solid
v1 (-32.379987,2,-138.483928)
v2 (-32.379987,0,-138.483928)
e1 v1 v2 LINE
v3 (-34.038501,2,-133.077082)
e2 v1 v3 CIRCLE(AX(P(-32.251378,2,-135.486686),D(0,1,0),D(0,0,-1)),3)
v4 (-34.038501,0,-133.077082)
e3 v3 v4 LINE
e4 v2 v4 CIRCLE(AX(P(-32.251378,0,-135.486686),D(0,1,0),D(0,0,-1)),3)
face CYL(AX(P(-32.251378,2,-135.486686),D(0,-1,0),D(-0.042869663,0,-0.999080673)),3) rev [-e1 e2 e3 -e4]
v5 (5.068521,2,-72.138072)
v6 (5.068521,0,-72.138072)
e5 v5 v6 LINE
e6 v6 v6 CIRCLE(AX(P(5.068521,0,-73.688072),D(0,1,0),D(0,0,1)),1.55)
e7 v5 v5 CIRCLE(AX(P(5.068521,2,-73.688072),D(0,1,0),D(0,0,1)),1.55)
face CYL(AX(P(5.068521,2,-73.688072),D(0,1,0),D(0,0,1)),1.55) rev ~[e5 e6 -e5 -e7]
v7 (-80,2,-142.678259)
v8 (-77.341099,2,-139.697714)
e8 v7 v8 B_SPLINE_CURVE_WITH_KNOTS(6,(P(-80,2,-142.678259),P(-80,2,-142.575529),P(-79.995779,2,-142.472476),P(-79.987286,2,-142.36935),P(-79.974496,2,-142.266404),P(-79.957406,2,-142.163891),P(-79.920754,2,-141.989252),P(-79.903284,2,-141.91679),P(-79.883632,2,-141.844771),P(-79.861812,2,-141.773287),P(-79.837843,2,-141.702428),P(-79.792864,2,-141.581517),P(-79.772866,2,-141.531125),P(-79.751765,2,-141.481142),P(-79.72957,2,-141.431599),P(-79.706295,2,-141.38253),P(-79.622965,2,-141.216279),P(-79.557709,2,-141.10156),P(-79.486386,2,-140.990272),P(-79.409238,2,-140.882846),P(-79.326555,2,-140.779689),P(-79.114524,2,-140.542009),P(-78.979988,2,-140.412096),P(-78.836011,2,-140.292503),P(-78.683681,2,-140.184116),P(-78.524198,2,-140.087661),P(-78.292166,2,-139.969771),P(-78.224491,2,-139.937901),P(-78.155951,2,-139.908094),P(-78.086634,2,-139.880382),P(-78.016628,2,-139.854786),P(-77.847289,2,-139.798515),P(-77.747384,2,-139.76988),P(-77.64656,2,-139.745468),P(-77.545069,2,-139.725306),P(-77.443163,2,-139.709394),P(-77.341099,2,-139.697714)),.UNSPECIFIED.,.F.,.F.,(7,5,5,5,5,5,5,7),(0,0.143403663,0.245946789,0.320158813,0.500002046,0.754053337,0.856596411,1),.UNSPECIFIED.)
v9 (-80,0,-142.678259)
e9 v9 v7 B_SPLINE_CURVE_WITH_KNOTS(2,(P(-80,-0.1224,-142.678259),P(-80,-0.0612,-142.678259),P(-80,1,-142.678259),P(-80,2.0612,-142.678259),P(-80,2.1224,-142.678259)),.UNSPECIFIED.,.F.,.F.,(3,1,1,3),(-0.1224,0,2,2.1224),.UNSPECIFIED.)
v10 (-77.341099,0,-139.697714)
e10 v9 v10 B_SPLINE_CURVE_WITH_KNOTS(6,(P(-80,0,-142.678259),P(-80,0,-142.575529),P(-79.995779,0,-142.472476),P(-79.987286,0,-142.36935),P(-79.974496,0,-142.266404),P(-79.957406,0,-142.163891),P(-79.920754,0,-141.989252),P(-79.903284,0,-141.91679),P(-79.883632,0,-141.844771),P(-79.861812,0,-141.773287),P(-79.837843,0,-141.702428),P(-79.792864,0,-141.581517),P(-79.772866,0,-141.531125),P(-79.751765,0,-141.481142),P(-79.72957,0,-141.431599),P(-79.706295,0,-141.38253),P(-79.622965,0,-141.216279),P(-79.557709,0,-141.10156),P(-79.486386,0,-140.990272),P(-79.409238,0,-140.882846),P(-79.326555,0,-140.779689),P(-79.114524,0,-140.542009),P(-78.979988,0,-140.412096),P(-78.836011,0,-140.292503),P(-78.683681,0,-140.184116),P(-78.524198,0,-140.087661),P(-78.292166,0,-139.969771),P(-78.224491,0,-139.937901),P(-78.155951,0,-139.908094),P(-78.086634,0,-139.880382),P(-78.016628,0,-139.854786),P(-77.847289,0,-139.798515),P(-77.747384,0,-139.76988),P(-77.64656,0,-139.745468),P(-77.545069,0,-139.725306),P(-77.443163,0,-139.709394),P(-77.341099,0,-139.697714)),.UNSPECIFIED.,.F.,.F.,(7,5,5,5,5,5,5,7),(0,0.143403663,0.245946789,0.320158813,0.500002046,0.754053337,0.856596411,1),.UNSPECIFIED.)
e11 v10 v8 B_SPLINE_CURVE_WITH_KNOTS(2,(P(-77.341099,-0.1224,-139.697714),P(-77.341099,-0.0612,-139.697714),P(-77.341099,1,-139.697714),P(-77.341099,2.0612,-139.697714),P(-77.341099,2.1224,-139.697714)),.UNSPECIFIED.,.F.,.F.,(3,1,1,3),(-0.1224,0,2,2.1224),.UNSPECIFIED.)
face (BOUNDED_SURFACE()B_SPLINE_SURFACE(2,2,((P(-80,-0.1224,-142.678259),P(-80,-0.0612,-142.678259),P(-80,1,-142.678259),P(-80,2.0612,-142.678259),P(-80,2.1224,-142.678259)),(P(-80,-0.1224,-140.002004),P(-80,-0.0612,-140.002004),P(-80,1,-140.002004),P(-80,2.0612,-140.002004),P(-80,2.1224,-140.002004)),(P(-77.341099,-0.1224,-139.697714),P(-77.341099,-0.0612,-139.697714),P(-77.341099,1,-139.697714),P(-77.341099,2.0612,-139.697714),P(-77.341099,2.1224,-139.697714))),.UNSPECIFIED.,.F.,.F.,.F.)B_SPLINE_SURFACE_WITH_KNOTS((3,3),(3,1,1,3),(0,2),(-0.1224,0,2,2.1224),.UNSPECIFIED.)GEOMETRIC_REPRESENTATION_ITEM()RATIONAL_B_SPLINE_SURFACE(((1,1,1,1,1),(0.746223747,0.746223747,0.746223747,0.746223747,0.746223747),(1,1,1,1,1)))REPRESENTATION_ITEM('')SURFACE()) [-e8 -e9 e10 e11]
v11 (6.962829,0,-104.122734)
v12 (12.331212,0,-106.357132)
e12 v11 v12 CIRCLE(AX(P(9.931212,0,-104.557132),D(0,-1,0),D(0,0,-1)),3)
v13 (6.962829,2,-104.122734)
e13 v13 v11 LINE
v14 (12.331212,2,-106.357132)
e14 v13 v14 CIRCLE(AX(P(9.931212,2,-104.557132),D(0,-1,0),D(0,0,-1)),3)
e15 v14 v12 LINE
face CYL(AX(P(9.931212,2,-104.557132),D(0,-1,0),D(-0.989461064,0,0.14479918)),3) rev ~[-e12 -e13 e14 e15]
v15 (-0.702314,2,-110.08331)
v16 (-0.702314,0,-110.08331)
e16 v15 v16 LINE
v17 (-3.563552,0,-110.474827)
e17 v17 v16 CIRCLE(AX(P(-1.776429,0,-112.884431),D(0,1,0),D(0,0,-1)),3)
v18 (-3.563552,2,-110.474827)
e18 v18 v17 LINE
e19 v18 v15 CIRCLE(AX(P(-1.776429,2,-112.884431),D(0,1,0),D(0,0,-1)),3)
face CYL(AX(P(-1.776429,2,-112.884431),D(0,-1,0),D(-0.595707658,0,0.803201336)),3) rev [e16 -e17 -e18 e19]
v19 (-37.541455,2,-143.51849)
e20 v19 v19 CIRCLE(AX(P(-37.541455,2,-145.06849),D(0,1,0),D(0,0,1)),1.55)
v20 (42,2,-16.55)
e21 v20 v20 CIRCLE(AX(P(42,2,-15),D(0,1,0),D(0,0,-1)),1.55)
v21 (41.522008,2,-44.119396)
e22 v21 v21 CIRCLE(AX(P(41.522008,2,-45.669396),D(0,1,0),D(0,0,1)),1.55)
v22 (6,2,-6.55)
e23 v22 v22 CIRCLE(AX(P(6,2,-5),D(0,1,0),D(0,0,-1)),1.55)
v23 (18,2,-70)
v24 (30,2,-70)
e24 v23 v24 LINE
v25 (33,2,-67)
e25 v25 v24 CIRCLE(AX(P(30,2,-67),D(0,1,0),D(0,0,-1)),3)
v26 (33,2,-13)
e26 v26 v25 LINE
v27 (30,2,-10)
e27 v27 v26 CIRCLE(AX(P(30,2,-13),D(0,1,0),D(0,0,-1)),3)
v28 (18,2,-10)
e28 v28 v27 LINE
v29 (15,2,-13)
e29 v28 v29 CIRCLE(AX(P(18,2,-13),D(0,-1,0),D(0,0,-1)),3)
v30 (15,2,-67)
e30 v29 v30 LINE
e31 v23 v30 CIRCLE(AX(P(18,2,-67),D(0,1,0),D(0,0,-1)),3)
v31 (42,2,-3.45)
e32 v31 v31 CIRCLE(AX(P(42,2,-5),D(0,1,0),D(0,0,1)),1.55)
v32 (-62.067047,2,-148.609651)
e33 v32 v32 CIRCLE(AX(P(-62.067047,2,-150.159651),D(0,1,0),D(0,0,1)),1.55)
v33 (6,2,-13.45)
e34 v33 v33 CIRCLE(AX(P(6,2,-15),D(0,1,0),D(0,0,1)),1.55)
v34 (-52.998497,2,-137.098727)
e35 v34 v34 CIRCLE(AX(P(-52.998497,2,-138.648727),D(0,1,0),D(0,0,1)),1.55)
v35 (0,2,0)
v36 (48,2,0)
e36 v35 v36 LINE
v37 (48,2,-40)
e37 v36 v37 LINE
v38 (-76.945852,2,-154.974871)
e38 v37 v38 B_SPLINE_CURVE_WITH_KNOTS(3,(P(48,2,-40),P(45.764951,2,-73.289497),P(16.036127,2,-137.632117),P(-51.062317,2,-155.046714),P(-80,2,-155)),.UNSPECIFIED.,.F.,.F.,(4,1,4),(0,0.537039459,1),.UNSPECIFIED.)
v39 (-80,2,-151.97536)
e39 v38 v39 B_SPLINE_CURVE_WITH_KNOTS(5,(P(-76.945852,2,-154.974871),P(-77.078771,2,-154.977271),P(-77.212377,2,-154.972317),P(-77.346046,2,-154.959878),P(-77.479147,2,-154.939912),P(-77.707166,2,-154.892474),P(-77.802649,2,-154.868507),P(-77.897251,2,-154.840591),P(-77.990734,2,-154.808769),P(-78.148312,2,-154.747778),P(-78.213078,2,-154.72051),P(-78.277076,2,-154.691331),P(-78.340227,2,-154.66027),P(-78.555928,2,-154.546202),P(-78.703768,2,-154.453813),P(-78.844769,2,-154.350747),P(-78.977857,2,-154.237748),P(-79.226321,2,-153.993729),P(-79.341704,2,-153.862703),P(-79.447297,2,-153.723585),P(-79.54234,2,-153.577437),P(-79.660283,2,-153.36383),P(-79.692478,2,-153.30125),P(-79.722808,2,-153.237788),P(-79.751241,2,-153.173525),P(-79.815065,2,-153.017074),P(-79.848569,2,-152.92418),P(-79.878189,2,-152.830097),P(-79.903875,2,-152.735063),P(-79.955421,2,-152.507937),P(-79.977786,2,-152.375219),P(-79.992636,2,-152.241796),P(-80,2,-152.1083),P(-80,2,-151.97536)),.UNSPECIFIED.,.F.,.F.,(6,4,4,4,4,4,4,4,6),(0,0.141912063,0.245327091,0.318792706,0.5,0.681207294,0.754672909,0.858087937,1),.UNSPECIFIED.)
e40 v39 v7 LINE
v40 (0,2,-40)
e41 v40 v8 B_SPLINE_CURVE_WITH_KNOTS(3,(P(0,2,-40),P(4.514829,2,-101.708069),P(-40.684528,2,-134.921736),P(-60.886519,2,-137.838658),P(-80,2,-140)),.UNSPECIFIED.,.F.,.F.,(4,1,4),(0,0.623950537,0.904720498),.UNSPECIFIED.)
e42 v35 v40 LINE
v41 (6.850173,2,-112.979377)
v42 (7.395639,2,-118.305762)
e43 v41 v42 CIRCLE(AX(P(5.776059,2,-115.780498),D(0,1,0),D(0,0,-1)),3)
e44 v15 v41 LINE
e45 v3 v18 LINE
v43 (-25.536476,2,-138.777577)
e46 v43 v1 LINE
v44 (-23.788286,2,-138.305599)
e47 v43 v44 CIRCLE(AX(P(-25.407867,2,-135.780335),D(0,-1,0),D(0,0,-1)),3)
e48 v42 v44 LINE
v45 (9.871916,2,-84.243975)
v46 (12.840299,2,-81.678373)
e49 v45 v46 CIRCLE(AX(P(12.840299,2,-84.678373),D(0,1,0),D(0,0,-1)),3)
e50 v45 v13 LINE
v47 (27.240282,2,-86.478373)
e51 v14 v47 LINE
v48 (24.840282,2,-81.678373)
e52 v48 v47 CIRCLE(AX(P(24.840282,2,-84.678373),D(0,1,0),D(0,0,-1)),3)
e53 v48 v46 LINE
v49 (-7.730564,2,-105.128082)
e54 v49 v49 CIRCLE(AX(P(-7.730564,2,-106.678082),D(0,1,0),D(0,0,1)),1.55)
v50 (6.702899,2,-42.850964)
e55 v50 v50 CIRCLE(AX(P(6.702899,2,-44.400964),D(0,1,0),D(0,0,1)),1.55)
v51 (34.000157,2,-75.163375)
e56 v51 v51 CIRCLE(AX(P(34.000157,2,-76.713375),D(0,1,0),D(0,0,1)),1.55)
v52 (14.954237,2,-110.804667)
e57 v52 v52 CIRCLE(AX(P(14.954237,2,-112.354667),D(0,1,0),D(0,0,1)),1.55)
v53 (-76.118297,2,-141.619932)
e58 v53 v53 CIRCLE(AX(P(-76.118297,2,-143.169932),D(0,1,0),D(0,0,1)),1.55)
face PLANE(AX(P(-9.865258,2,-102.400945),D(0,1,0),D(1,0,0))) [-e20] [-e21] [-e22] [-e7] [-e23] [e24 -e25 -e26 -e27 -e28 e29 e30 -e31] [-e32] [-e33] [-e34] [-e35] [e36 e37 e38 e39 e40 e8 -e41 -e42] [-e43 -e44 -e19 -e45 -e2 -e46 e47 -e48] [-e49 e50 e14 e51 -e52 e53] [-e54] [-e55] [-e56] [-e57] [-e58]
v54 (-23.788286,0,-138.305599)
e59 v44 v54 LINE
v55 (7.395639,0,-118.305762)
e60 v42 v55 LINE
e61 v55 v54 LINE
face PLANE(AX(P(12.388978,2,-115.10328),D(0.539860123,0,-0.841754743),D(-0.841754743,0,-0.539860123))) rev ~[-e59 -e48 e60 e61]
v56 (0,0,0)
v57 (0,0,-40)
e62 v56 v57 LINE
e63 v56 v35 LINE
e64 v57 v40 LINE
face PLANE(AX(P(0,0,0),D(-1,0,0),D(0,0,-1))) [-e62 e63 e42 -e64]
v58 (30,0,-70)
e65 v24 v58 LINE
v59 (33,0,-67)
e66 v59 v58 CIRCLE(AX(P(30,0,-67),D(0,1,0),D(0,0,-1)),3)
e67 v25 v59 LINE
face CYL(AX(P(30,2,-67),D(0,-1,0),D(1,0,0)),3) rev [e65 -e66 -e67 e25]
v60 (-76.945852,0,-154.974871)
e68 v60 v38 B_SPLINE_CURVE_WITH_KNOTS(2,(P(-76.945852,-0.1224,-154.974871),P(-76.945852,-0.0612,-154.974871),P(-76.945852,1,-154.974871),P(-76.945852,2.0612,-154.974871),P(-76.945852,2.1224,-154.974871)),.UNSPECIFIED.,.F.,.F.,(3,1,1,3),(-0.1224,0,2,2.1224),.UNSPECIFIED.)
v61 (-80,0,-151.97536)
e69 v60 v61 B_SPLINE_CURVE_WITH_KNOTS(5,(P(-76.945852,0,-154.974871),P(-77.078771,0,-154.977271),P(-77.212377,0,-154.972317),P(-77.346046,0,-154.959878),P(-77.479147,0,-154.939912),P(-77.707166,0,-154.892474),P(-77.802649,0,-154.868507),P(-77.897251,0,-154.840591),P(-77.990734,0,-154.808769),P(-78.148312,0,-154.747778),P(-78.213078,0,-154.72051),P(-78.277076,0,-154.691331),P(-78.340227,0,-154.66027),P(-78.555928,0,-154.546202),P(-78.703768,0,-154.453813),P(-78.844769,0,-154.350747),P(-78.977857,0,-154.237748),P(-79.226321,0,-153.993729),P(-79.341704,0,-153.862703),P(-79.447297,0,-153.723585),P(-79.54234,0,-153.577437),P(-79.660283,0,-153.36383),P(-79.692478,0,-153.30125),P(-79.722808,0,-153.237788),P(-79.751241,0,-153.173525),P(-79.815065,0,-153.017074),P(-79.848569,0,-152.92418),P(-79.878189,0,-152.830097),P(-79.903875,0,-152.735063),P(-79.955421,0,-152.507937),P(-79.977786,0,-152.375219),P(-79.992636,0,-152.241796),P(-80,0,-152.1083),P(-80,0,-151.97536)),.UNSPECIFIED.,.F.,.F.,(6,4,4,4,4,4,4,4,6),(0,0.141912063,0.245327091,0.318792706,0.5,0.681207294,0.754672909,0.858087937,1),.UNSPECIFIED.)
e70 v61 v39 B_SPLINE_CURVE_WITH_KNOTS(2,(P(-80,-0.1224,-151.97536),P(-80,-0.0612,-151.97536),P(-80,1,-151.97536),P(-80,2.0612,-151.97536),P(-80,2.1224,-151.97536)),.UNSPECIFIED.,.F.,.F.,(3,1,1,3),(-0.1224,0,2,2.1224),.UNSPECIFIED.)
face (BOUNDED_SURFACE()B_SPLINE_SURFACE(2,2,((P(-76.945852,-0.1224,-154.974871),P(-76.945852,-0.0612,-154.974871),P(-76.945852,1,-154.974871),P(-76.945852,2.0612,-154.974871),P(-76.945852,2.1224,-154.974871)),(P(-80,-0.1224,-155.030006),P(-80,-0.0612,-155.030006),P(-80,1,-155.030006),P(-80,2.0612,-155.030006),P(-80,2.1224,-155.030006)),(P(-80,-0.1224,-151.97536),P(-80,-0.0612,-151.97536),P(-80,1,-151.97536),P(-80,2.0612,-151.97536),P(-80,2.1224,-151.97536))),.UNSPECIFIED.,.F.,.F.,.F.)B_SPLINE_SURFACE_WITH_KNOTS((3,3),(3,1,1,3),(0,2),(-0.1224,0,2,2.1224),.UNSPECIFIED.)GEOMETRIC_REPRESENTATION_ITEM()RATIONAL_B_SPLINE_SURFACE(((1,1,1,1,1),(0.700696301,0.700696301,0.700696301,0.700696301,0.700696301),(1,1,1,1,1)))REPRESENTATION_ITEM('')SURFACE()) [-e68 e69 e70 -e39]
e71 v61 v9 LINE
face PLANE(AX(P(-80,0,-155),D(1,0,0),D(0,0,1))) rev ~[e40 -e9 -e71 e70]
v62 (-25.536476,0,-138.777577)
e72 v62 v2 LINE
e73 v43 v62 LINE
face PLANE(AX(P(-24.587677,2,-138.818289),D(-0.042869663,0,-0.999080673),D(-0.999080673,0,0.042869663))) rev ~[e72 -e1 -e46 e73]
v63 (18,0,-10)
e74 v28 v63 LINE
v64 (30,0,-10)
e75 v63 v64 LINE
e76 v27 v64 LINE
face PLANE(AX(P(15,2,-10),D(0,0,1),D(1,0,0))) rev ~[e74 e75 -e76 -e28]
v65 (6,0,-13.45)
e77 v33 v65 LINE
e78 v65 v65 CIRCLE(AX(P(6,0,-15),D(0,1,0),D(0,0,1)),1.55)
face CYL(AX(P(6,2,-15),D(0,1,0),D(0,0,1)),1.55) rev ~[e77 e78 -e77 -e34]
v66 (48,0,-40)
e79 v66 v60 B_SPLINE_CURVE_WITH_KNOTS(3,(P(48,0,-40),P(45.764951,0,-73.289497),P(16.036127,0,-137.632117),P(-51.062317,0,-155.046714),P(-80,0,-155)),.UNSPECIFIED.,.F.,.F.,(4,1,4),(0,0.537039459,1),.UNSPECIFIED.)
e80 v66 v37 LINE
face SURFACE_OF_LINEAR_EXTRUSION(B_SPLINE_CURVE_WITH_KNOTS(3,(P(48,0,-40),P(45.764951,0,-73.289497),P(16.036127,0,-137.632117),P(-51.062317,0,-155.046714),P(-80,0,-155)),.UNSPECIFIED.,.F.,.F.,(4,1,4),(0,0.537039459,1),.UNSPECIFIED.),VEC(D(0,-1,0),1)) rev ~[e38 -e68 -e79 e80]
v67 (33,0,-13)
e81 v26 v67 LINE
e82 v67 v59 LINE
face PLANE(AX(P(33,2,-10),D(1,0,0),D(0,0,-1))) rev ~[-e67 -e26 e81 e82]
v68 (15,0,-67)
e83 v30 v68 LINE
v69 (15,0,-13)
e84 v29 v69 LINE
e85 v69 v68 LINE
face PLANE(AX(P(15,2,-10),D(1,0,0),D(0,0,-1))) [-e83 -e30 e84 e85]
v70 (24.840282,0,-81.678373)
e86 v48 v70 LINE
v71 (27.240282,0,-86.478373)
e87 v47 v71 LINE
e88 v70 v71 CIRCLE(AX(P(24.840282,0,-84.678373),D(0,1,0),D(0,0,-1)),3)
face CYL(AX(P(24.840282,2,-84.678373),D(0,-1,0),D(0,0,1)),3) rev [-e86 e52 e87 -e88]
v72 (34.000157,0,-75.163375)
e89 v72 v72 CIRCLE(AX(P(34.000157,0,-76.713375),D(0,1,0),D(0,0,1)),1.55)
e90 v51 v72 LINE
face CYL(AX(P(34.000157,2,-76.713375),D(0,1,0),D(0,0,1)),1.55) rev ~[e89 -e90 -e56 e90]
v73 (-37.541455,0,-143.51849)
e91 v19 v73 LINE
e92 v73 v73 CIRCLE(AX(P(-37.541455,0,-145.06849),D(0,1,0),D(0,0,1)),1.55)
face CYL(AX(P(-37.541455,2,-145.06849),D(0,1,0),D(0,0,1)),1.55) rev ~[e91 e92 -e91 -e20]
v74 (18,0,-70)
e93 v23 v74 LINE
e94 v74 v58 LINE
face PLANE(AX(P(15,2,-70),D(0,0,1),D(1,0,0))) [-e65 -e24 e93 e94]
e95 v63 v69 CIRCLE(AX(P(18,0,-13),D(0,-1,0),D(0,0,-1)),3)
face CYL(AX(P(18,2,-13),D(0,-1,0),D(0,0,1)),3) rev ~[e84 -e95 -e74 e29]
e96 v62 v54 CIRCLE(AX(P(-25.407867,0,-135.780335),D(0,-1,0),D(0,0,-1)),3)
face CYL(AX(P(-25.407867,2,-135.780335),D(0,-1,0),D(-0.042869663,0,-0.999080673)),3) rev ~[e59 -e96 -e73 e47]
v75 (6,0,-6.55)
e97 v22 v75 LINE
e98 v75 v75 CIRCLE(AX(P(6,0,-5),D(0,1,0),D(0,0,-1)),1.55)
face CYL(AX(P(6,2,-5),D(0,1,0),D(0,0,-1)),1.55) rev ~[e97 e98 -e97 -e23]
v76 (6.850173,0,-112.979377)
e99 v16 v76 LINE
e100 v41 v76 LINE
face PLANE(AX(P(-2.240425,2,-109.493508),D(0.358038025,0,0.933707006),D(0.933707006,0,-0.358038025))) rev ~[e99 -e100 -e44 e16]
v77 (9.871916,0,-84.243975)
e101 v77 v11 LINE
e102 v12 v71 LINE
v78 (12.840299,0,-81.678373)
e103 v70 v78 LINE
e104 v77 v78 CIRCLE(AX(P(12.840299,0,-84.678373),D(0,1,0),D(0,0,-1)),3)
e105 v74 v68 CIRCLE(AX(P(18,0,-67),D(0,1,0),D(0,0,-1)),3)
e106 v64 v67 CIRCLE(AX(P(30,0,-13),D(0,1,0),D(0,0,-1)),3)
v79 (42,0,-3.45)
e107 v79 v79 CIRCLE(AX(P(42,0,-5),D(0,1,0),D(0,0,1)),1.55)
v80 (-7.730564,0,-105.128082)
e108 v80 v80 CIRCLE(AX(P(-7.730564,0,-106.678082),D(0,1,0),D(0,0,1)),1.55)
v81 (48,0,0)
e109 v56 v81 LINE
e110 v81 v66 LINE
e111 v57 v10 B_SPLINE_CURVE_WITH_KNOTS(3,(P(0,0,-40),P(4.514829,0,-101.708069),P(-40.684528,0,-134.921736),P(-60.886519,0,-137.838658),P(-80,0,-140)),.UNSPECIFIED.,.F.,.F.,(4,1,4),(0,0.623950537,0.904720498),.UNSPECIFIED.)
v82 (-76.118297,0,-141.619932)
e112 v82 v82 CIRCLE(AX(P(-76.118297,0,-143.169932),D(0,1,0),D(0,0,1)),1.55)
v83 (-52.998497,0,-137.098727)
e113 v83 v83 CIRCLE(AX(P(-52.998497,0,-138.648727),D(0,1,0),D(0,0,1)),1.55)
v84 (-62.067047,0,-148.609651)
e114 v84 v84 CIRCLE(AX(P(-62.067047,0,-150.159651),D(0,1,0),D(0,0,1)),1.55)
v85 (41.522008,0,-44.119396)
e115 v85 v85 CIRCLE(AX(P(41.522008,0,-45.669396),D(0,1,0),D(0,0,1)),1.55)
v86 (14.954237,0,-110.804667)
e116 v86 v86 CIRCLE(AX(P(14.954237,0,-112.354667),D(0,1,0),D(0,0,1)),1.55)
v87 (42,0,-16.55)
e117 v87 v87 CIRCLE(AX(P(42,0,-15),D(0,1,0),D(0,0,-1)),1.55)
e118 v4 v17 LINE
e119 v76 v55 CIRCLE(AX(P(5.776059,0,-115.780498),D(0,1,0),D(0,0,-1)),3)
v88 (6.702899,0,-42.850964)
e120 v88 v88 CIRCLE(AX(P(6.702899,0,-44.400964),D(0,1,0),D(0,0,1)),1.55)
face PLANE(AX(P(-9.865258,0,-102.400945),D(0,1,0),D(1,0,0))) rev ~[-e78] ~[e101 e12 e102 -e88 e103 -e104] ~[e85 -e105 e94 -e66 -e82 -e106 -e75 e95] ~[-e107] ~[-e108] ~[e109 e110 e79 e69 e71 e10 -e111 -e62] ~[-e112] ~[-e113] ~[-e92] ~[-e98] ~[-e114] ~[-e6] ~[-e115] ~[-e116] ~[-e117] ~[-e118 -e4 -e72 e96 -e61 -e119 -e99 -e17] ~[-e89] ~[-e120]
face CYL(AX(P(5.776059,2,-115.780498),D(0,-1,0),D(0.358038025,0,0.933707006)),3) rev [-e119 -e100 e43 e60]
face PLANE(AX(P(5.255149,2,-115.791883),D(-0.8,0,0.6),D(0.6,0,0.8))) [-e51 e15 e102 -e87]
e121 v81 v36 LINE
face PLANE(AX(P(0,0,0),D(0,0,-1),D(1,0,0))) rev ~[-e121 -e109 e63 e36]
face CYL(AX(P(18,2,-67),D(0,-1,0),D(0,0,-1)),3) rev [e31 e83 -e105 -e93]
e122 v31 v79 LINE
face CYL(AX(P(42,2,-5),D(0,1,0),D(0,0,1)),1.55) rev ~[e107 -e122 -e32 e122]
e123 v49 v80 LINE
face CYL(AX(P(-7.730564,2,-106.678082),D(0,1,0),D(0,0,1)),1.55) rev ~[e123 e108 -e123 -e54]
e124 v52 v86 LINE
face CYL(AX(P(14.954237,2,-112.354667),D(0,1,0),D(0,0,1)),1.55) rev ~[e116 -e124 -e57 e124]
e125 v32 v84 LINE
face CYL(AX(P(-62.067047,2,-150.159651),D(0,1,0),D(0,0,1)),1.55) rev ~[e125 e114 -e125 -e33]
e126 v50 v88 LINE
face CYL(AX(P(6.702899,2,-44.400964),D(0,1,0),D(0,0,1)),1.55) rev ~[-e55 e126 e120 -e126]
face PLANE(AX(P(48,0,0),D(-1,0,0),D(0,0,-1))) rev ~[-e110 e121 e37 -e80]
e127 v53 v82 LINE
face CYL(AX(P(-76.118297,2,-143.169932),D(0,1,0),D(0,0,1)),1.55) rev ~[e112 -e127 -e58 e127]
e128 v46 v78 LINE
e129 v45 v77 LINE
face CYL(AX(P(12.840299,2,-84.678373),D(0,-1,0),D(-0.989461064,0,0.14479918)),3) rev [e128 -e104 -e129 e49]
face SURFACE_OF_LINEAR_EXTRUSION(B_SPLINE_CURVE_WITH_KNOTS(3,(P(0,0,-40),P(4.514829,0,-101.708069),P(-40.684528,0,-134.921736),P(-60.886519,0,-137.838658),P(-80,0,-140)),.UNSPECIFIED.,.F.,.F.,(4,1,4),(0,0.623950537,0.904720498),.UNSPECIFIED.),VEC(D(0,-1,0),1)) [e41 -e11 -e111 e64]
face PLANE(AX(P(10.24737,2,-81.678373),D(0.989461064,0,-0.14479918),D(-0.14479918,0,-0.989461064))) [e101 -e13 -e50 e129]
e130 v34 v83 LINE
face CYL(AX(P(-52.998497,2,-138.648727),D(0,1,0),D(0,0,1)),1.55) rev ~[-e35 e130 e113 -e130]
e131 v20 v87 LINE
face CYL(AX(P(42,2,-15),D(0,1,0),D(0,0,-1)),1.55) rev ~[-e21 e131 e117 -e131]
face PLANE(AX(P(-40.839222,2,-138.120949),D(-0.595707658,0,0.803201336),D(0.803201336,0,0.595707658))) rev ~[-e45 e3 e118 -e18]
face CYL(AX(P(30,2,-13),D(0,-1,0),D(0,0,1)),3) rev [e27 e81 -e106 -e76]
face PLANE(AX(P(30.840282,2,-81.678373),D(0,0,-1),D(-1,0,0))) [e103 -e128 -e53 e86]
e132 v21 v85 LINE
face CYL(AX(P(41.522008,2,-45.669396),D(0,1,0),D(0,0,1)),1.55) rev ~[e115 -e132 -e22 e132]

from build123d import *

# Parameters (mm, degrees)
SKETCH_1_W          = 48
SKETCH_1_H          = 40
EXTRUDE_1_DEPTH     = 2
SKETCH_2_R          = 1.55
CUT_EXTRUDE_1_DEPTH = 175.439280555
SKETCH_3_W          = 18
SKETCH_3_H          = 60
CUT_EXTRUDE_2_DEPTH = 175.439280555
FILLET_1_R          = 3
CUT_EXTRUDE_3_DEPTH = 175.439280555
FILLET_2_R          = 3
CUT_EXTRUDE_4_DEPTH = 175.439280555
FILLET_3_R          = 3
SKETCH_6_R          = 1.55
CUT_EXTRUDE_5_DEPTH = 175.439280555
FILLET_4_R          = 3


with BuildPart() as part:
    # 草图1 → 凸台-拉伸1 (new body)
    with BuildSketch(Plane(origin=(0, 0, 0), x_dir=(1, 0, 0), z_dir=(0, 1, 0))):
        with BuildLine():
            Line((0, 40), (48, 40))
            add(Edge.make_bspline(
                [(48, 40), (45.764951139, 73.28949707), (16.036127279, 137.632117299), (-51.062317124, 155.04671395), (-80, 155)],
                knots=[0, 0, 0, 0, 0.537039459, 1, 1, 1, 1], degree=3))
            Line((-80, 155), (-80, 140))
            add(Edge.make_bspline(
                [(0, 40), (4.51482928, 101.708069088), (-40.684527931, 134.921736198), (-60.886519043, 137.838657836), (-80, 140)],
                knots=[0, 0, 0, 0, 0.623950537, 0.904720498, 0.904720498, 0.904720498, 0.904720498], degree=3))
        make_face()
        with Locations((24, 20)):
            Rectangle(SKETCH_1_W, SKETCH_1_H)
    extrude(amount=EXTRUDE_1_DEPTH)

    # 草图2 → 切除-拉伸1 (cut, through all)
    with BuildSketch(Plane(origin=(0, 2, 0), x_dir=(1, 0, 0), z_dir=(0, 1, 0))):
        with Locations(Location((6, 15, 0), (0, 0, 270))):
            Circle(SKETCH_2_R)
        with Locations(Location((42, 15, 0), (0, 0, 90))):
            Circle(SKETCH_2_R)
        with Locations(Location((42, 5, 0), (0, 0, 270))):
            Circle(SKETCH_2_R)
        with Locations(Location((6, 5, 0), (0, 0, 90))):
            Circle(SKETCH_2_R)
    extrude(amount=-CUT_EXTRUDE_1_DEPTH, mode=Mode.SUBTRACT)

    # 草图3 → 切除-拉伸2 (cut, through all)
    with BuildSketch(Plane(origin=(0, 2, 0), x_dir=(1, 0, 0), z_dir=(0, 1, 0))):
        with Locations((24, 40)):
            Rectangle(SKETCH_3_W, SKETCH_3_H)
    extrude(amount=-CUT_EXTRUDE_2_DEPTH, mode=Mode.SUBTRACT)

    # 圆角1
    fillet_1_edges = [part.edges().sort_by_distance(p)[0] for p in [
        (33, 1, -70),
        (33, 1, -10),
        (15, 1, -10),
        (15, 1, -70),
    ]]
    fillet(fillet_1_edges, radius=FILLET_1_R)

    # 草图4 → 切除-拉伸3 (cut, through all)
    with BuildSketch(Plane(origin=(0, 2, 0), x_dir=(1, 0, 0), z_dir=(0, 1, 0))):
        Polygon((5.255148973, 115.791883332), (30.840281778, 81.678372925), (10.247370008, 81.678372925), align=None)
    extrude(amount=-CUT_EXTRUDE_3_DEPTH, mode=Mode.SUBTRACT)

    # 圆角2
    fillet_2_edges = [part.edges().sort_by_distance(p)[0] for p in [
        (10.247370008, 1, -81.678372925),
        (5.255148973, 1, -115.791883332),
        (30.840281778, 1, -81.678372925),
    ]]
    fillet(fillet_2_edges, radius=FILLET_2_R)

    # 草图5 → 切除-拉伸4 (cut, through all)
    with BuildSketch(Plane(origin=(0, 2, 0), x_dir=(1, 0, 0), z_dir=(0, 1, 0))):
        Polygon((-24.587676852, 138.818288759), (-40.839221994, 138.120949417), (-2.240425067, 109.493508363), (12.388978152, 115.103279522), align=None)
    extrude(amount=-CUT_EXTRUDE_4_DEPTH, mode=Mode.SUBTRACT)

    # 圆角3
    fillet_3_edges = [part.edges().sort_by_distance(p)[0] for p in [
        (-24.587676852, 1, -138.818288759),
        (12.388978152, 1, -115.103279522),
        (-2.240425067, 1, -109.493508363),
        (-40.839221994, 1, -138.120949417),
    ]]
    fillet(fillet_3_edges, radius=FILLET_3_R)

    # 草图6 → 切除-拉伸5 (cut, through all)
    with BuildSketch(Plane(origin=(0, 2, 0), x_dir=(1, 0, 0), z_dir=(0, 1, 0))):
        with Locations(Location((-76.118296747, 143.169932104, 0), (0, 0, 270))):
            Circle(SKETCH_6_R)
        with Locations(Location((-52.99849703, 138.648726826, 0), (0, 0, 270))):
            Circle(SKETCH_6_R)
        with Locations(Location((-7.730564413, 106.678081972, 0), (0, 0, 270))):
            Circle(SKETCH_6_R)
        with Locations(Location((5.068521195, 73.688071708, 0), (0, 0, 270))):
            Circle(SKETCH_6_R)
        with Locations(Location((6.702898523, 44.400963853, 0), (0, 0, 270))):
            Circle(SKETCH_6_R)
        with Locations(Location((34.000156558, 76.713375319, 0), (0, 0, 270))):
            Circle(SKETCH_6_R)
        with Locations(Location((41.522008079, 45.669395879, 0), (0, 0, 270))):
            Circle(SKETCH_6_R)
        with Locations(Location((14.954237137, 112.354667387, 0), (0, 0, 270))):
            Circle(SKETCH_6_R)
        with Locations(Location((-37.541455494, 145.068490418, 0), (0, 0, 270))):
            Circle(SKETCH_6_R)
        with Locations(Location((-62.067047187, 150.159650611, 0), (0, 0, 270))):
            Circle(SKETCH_6_R)
    extrude(amount=-CUT_EXTRUDE_5_DEPTH, mode=Mode.SUBTRACT)

    # 圆角4
    fillet_4_edges = [part.edges().sort_by_distance(p)[0] for p in [
        (-80, 1, -140),
        (-80, 1, -155),
    ]]
    fillet(fillet_4_edges, radius=FILLET_4_R)


solid = part.part
